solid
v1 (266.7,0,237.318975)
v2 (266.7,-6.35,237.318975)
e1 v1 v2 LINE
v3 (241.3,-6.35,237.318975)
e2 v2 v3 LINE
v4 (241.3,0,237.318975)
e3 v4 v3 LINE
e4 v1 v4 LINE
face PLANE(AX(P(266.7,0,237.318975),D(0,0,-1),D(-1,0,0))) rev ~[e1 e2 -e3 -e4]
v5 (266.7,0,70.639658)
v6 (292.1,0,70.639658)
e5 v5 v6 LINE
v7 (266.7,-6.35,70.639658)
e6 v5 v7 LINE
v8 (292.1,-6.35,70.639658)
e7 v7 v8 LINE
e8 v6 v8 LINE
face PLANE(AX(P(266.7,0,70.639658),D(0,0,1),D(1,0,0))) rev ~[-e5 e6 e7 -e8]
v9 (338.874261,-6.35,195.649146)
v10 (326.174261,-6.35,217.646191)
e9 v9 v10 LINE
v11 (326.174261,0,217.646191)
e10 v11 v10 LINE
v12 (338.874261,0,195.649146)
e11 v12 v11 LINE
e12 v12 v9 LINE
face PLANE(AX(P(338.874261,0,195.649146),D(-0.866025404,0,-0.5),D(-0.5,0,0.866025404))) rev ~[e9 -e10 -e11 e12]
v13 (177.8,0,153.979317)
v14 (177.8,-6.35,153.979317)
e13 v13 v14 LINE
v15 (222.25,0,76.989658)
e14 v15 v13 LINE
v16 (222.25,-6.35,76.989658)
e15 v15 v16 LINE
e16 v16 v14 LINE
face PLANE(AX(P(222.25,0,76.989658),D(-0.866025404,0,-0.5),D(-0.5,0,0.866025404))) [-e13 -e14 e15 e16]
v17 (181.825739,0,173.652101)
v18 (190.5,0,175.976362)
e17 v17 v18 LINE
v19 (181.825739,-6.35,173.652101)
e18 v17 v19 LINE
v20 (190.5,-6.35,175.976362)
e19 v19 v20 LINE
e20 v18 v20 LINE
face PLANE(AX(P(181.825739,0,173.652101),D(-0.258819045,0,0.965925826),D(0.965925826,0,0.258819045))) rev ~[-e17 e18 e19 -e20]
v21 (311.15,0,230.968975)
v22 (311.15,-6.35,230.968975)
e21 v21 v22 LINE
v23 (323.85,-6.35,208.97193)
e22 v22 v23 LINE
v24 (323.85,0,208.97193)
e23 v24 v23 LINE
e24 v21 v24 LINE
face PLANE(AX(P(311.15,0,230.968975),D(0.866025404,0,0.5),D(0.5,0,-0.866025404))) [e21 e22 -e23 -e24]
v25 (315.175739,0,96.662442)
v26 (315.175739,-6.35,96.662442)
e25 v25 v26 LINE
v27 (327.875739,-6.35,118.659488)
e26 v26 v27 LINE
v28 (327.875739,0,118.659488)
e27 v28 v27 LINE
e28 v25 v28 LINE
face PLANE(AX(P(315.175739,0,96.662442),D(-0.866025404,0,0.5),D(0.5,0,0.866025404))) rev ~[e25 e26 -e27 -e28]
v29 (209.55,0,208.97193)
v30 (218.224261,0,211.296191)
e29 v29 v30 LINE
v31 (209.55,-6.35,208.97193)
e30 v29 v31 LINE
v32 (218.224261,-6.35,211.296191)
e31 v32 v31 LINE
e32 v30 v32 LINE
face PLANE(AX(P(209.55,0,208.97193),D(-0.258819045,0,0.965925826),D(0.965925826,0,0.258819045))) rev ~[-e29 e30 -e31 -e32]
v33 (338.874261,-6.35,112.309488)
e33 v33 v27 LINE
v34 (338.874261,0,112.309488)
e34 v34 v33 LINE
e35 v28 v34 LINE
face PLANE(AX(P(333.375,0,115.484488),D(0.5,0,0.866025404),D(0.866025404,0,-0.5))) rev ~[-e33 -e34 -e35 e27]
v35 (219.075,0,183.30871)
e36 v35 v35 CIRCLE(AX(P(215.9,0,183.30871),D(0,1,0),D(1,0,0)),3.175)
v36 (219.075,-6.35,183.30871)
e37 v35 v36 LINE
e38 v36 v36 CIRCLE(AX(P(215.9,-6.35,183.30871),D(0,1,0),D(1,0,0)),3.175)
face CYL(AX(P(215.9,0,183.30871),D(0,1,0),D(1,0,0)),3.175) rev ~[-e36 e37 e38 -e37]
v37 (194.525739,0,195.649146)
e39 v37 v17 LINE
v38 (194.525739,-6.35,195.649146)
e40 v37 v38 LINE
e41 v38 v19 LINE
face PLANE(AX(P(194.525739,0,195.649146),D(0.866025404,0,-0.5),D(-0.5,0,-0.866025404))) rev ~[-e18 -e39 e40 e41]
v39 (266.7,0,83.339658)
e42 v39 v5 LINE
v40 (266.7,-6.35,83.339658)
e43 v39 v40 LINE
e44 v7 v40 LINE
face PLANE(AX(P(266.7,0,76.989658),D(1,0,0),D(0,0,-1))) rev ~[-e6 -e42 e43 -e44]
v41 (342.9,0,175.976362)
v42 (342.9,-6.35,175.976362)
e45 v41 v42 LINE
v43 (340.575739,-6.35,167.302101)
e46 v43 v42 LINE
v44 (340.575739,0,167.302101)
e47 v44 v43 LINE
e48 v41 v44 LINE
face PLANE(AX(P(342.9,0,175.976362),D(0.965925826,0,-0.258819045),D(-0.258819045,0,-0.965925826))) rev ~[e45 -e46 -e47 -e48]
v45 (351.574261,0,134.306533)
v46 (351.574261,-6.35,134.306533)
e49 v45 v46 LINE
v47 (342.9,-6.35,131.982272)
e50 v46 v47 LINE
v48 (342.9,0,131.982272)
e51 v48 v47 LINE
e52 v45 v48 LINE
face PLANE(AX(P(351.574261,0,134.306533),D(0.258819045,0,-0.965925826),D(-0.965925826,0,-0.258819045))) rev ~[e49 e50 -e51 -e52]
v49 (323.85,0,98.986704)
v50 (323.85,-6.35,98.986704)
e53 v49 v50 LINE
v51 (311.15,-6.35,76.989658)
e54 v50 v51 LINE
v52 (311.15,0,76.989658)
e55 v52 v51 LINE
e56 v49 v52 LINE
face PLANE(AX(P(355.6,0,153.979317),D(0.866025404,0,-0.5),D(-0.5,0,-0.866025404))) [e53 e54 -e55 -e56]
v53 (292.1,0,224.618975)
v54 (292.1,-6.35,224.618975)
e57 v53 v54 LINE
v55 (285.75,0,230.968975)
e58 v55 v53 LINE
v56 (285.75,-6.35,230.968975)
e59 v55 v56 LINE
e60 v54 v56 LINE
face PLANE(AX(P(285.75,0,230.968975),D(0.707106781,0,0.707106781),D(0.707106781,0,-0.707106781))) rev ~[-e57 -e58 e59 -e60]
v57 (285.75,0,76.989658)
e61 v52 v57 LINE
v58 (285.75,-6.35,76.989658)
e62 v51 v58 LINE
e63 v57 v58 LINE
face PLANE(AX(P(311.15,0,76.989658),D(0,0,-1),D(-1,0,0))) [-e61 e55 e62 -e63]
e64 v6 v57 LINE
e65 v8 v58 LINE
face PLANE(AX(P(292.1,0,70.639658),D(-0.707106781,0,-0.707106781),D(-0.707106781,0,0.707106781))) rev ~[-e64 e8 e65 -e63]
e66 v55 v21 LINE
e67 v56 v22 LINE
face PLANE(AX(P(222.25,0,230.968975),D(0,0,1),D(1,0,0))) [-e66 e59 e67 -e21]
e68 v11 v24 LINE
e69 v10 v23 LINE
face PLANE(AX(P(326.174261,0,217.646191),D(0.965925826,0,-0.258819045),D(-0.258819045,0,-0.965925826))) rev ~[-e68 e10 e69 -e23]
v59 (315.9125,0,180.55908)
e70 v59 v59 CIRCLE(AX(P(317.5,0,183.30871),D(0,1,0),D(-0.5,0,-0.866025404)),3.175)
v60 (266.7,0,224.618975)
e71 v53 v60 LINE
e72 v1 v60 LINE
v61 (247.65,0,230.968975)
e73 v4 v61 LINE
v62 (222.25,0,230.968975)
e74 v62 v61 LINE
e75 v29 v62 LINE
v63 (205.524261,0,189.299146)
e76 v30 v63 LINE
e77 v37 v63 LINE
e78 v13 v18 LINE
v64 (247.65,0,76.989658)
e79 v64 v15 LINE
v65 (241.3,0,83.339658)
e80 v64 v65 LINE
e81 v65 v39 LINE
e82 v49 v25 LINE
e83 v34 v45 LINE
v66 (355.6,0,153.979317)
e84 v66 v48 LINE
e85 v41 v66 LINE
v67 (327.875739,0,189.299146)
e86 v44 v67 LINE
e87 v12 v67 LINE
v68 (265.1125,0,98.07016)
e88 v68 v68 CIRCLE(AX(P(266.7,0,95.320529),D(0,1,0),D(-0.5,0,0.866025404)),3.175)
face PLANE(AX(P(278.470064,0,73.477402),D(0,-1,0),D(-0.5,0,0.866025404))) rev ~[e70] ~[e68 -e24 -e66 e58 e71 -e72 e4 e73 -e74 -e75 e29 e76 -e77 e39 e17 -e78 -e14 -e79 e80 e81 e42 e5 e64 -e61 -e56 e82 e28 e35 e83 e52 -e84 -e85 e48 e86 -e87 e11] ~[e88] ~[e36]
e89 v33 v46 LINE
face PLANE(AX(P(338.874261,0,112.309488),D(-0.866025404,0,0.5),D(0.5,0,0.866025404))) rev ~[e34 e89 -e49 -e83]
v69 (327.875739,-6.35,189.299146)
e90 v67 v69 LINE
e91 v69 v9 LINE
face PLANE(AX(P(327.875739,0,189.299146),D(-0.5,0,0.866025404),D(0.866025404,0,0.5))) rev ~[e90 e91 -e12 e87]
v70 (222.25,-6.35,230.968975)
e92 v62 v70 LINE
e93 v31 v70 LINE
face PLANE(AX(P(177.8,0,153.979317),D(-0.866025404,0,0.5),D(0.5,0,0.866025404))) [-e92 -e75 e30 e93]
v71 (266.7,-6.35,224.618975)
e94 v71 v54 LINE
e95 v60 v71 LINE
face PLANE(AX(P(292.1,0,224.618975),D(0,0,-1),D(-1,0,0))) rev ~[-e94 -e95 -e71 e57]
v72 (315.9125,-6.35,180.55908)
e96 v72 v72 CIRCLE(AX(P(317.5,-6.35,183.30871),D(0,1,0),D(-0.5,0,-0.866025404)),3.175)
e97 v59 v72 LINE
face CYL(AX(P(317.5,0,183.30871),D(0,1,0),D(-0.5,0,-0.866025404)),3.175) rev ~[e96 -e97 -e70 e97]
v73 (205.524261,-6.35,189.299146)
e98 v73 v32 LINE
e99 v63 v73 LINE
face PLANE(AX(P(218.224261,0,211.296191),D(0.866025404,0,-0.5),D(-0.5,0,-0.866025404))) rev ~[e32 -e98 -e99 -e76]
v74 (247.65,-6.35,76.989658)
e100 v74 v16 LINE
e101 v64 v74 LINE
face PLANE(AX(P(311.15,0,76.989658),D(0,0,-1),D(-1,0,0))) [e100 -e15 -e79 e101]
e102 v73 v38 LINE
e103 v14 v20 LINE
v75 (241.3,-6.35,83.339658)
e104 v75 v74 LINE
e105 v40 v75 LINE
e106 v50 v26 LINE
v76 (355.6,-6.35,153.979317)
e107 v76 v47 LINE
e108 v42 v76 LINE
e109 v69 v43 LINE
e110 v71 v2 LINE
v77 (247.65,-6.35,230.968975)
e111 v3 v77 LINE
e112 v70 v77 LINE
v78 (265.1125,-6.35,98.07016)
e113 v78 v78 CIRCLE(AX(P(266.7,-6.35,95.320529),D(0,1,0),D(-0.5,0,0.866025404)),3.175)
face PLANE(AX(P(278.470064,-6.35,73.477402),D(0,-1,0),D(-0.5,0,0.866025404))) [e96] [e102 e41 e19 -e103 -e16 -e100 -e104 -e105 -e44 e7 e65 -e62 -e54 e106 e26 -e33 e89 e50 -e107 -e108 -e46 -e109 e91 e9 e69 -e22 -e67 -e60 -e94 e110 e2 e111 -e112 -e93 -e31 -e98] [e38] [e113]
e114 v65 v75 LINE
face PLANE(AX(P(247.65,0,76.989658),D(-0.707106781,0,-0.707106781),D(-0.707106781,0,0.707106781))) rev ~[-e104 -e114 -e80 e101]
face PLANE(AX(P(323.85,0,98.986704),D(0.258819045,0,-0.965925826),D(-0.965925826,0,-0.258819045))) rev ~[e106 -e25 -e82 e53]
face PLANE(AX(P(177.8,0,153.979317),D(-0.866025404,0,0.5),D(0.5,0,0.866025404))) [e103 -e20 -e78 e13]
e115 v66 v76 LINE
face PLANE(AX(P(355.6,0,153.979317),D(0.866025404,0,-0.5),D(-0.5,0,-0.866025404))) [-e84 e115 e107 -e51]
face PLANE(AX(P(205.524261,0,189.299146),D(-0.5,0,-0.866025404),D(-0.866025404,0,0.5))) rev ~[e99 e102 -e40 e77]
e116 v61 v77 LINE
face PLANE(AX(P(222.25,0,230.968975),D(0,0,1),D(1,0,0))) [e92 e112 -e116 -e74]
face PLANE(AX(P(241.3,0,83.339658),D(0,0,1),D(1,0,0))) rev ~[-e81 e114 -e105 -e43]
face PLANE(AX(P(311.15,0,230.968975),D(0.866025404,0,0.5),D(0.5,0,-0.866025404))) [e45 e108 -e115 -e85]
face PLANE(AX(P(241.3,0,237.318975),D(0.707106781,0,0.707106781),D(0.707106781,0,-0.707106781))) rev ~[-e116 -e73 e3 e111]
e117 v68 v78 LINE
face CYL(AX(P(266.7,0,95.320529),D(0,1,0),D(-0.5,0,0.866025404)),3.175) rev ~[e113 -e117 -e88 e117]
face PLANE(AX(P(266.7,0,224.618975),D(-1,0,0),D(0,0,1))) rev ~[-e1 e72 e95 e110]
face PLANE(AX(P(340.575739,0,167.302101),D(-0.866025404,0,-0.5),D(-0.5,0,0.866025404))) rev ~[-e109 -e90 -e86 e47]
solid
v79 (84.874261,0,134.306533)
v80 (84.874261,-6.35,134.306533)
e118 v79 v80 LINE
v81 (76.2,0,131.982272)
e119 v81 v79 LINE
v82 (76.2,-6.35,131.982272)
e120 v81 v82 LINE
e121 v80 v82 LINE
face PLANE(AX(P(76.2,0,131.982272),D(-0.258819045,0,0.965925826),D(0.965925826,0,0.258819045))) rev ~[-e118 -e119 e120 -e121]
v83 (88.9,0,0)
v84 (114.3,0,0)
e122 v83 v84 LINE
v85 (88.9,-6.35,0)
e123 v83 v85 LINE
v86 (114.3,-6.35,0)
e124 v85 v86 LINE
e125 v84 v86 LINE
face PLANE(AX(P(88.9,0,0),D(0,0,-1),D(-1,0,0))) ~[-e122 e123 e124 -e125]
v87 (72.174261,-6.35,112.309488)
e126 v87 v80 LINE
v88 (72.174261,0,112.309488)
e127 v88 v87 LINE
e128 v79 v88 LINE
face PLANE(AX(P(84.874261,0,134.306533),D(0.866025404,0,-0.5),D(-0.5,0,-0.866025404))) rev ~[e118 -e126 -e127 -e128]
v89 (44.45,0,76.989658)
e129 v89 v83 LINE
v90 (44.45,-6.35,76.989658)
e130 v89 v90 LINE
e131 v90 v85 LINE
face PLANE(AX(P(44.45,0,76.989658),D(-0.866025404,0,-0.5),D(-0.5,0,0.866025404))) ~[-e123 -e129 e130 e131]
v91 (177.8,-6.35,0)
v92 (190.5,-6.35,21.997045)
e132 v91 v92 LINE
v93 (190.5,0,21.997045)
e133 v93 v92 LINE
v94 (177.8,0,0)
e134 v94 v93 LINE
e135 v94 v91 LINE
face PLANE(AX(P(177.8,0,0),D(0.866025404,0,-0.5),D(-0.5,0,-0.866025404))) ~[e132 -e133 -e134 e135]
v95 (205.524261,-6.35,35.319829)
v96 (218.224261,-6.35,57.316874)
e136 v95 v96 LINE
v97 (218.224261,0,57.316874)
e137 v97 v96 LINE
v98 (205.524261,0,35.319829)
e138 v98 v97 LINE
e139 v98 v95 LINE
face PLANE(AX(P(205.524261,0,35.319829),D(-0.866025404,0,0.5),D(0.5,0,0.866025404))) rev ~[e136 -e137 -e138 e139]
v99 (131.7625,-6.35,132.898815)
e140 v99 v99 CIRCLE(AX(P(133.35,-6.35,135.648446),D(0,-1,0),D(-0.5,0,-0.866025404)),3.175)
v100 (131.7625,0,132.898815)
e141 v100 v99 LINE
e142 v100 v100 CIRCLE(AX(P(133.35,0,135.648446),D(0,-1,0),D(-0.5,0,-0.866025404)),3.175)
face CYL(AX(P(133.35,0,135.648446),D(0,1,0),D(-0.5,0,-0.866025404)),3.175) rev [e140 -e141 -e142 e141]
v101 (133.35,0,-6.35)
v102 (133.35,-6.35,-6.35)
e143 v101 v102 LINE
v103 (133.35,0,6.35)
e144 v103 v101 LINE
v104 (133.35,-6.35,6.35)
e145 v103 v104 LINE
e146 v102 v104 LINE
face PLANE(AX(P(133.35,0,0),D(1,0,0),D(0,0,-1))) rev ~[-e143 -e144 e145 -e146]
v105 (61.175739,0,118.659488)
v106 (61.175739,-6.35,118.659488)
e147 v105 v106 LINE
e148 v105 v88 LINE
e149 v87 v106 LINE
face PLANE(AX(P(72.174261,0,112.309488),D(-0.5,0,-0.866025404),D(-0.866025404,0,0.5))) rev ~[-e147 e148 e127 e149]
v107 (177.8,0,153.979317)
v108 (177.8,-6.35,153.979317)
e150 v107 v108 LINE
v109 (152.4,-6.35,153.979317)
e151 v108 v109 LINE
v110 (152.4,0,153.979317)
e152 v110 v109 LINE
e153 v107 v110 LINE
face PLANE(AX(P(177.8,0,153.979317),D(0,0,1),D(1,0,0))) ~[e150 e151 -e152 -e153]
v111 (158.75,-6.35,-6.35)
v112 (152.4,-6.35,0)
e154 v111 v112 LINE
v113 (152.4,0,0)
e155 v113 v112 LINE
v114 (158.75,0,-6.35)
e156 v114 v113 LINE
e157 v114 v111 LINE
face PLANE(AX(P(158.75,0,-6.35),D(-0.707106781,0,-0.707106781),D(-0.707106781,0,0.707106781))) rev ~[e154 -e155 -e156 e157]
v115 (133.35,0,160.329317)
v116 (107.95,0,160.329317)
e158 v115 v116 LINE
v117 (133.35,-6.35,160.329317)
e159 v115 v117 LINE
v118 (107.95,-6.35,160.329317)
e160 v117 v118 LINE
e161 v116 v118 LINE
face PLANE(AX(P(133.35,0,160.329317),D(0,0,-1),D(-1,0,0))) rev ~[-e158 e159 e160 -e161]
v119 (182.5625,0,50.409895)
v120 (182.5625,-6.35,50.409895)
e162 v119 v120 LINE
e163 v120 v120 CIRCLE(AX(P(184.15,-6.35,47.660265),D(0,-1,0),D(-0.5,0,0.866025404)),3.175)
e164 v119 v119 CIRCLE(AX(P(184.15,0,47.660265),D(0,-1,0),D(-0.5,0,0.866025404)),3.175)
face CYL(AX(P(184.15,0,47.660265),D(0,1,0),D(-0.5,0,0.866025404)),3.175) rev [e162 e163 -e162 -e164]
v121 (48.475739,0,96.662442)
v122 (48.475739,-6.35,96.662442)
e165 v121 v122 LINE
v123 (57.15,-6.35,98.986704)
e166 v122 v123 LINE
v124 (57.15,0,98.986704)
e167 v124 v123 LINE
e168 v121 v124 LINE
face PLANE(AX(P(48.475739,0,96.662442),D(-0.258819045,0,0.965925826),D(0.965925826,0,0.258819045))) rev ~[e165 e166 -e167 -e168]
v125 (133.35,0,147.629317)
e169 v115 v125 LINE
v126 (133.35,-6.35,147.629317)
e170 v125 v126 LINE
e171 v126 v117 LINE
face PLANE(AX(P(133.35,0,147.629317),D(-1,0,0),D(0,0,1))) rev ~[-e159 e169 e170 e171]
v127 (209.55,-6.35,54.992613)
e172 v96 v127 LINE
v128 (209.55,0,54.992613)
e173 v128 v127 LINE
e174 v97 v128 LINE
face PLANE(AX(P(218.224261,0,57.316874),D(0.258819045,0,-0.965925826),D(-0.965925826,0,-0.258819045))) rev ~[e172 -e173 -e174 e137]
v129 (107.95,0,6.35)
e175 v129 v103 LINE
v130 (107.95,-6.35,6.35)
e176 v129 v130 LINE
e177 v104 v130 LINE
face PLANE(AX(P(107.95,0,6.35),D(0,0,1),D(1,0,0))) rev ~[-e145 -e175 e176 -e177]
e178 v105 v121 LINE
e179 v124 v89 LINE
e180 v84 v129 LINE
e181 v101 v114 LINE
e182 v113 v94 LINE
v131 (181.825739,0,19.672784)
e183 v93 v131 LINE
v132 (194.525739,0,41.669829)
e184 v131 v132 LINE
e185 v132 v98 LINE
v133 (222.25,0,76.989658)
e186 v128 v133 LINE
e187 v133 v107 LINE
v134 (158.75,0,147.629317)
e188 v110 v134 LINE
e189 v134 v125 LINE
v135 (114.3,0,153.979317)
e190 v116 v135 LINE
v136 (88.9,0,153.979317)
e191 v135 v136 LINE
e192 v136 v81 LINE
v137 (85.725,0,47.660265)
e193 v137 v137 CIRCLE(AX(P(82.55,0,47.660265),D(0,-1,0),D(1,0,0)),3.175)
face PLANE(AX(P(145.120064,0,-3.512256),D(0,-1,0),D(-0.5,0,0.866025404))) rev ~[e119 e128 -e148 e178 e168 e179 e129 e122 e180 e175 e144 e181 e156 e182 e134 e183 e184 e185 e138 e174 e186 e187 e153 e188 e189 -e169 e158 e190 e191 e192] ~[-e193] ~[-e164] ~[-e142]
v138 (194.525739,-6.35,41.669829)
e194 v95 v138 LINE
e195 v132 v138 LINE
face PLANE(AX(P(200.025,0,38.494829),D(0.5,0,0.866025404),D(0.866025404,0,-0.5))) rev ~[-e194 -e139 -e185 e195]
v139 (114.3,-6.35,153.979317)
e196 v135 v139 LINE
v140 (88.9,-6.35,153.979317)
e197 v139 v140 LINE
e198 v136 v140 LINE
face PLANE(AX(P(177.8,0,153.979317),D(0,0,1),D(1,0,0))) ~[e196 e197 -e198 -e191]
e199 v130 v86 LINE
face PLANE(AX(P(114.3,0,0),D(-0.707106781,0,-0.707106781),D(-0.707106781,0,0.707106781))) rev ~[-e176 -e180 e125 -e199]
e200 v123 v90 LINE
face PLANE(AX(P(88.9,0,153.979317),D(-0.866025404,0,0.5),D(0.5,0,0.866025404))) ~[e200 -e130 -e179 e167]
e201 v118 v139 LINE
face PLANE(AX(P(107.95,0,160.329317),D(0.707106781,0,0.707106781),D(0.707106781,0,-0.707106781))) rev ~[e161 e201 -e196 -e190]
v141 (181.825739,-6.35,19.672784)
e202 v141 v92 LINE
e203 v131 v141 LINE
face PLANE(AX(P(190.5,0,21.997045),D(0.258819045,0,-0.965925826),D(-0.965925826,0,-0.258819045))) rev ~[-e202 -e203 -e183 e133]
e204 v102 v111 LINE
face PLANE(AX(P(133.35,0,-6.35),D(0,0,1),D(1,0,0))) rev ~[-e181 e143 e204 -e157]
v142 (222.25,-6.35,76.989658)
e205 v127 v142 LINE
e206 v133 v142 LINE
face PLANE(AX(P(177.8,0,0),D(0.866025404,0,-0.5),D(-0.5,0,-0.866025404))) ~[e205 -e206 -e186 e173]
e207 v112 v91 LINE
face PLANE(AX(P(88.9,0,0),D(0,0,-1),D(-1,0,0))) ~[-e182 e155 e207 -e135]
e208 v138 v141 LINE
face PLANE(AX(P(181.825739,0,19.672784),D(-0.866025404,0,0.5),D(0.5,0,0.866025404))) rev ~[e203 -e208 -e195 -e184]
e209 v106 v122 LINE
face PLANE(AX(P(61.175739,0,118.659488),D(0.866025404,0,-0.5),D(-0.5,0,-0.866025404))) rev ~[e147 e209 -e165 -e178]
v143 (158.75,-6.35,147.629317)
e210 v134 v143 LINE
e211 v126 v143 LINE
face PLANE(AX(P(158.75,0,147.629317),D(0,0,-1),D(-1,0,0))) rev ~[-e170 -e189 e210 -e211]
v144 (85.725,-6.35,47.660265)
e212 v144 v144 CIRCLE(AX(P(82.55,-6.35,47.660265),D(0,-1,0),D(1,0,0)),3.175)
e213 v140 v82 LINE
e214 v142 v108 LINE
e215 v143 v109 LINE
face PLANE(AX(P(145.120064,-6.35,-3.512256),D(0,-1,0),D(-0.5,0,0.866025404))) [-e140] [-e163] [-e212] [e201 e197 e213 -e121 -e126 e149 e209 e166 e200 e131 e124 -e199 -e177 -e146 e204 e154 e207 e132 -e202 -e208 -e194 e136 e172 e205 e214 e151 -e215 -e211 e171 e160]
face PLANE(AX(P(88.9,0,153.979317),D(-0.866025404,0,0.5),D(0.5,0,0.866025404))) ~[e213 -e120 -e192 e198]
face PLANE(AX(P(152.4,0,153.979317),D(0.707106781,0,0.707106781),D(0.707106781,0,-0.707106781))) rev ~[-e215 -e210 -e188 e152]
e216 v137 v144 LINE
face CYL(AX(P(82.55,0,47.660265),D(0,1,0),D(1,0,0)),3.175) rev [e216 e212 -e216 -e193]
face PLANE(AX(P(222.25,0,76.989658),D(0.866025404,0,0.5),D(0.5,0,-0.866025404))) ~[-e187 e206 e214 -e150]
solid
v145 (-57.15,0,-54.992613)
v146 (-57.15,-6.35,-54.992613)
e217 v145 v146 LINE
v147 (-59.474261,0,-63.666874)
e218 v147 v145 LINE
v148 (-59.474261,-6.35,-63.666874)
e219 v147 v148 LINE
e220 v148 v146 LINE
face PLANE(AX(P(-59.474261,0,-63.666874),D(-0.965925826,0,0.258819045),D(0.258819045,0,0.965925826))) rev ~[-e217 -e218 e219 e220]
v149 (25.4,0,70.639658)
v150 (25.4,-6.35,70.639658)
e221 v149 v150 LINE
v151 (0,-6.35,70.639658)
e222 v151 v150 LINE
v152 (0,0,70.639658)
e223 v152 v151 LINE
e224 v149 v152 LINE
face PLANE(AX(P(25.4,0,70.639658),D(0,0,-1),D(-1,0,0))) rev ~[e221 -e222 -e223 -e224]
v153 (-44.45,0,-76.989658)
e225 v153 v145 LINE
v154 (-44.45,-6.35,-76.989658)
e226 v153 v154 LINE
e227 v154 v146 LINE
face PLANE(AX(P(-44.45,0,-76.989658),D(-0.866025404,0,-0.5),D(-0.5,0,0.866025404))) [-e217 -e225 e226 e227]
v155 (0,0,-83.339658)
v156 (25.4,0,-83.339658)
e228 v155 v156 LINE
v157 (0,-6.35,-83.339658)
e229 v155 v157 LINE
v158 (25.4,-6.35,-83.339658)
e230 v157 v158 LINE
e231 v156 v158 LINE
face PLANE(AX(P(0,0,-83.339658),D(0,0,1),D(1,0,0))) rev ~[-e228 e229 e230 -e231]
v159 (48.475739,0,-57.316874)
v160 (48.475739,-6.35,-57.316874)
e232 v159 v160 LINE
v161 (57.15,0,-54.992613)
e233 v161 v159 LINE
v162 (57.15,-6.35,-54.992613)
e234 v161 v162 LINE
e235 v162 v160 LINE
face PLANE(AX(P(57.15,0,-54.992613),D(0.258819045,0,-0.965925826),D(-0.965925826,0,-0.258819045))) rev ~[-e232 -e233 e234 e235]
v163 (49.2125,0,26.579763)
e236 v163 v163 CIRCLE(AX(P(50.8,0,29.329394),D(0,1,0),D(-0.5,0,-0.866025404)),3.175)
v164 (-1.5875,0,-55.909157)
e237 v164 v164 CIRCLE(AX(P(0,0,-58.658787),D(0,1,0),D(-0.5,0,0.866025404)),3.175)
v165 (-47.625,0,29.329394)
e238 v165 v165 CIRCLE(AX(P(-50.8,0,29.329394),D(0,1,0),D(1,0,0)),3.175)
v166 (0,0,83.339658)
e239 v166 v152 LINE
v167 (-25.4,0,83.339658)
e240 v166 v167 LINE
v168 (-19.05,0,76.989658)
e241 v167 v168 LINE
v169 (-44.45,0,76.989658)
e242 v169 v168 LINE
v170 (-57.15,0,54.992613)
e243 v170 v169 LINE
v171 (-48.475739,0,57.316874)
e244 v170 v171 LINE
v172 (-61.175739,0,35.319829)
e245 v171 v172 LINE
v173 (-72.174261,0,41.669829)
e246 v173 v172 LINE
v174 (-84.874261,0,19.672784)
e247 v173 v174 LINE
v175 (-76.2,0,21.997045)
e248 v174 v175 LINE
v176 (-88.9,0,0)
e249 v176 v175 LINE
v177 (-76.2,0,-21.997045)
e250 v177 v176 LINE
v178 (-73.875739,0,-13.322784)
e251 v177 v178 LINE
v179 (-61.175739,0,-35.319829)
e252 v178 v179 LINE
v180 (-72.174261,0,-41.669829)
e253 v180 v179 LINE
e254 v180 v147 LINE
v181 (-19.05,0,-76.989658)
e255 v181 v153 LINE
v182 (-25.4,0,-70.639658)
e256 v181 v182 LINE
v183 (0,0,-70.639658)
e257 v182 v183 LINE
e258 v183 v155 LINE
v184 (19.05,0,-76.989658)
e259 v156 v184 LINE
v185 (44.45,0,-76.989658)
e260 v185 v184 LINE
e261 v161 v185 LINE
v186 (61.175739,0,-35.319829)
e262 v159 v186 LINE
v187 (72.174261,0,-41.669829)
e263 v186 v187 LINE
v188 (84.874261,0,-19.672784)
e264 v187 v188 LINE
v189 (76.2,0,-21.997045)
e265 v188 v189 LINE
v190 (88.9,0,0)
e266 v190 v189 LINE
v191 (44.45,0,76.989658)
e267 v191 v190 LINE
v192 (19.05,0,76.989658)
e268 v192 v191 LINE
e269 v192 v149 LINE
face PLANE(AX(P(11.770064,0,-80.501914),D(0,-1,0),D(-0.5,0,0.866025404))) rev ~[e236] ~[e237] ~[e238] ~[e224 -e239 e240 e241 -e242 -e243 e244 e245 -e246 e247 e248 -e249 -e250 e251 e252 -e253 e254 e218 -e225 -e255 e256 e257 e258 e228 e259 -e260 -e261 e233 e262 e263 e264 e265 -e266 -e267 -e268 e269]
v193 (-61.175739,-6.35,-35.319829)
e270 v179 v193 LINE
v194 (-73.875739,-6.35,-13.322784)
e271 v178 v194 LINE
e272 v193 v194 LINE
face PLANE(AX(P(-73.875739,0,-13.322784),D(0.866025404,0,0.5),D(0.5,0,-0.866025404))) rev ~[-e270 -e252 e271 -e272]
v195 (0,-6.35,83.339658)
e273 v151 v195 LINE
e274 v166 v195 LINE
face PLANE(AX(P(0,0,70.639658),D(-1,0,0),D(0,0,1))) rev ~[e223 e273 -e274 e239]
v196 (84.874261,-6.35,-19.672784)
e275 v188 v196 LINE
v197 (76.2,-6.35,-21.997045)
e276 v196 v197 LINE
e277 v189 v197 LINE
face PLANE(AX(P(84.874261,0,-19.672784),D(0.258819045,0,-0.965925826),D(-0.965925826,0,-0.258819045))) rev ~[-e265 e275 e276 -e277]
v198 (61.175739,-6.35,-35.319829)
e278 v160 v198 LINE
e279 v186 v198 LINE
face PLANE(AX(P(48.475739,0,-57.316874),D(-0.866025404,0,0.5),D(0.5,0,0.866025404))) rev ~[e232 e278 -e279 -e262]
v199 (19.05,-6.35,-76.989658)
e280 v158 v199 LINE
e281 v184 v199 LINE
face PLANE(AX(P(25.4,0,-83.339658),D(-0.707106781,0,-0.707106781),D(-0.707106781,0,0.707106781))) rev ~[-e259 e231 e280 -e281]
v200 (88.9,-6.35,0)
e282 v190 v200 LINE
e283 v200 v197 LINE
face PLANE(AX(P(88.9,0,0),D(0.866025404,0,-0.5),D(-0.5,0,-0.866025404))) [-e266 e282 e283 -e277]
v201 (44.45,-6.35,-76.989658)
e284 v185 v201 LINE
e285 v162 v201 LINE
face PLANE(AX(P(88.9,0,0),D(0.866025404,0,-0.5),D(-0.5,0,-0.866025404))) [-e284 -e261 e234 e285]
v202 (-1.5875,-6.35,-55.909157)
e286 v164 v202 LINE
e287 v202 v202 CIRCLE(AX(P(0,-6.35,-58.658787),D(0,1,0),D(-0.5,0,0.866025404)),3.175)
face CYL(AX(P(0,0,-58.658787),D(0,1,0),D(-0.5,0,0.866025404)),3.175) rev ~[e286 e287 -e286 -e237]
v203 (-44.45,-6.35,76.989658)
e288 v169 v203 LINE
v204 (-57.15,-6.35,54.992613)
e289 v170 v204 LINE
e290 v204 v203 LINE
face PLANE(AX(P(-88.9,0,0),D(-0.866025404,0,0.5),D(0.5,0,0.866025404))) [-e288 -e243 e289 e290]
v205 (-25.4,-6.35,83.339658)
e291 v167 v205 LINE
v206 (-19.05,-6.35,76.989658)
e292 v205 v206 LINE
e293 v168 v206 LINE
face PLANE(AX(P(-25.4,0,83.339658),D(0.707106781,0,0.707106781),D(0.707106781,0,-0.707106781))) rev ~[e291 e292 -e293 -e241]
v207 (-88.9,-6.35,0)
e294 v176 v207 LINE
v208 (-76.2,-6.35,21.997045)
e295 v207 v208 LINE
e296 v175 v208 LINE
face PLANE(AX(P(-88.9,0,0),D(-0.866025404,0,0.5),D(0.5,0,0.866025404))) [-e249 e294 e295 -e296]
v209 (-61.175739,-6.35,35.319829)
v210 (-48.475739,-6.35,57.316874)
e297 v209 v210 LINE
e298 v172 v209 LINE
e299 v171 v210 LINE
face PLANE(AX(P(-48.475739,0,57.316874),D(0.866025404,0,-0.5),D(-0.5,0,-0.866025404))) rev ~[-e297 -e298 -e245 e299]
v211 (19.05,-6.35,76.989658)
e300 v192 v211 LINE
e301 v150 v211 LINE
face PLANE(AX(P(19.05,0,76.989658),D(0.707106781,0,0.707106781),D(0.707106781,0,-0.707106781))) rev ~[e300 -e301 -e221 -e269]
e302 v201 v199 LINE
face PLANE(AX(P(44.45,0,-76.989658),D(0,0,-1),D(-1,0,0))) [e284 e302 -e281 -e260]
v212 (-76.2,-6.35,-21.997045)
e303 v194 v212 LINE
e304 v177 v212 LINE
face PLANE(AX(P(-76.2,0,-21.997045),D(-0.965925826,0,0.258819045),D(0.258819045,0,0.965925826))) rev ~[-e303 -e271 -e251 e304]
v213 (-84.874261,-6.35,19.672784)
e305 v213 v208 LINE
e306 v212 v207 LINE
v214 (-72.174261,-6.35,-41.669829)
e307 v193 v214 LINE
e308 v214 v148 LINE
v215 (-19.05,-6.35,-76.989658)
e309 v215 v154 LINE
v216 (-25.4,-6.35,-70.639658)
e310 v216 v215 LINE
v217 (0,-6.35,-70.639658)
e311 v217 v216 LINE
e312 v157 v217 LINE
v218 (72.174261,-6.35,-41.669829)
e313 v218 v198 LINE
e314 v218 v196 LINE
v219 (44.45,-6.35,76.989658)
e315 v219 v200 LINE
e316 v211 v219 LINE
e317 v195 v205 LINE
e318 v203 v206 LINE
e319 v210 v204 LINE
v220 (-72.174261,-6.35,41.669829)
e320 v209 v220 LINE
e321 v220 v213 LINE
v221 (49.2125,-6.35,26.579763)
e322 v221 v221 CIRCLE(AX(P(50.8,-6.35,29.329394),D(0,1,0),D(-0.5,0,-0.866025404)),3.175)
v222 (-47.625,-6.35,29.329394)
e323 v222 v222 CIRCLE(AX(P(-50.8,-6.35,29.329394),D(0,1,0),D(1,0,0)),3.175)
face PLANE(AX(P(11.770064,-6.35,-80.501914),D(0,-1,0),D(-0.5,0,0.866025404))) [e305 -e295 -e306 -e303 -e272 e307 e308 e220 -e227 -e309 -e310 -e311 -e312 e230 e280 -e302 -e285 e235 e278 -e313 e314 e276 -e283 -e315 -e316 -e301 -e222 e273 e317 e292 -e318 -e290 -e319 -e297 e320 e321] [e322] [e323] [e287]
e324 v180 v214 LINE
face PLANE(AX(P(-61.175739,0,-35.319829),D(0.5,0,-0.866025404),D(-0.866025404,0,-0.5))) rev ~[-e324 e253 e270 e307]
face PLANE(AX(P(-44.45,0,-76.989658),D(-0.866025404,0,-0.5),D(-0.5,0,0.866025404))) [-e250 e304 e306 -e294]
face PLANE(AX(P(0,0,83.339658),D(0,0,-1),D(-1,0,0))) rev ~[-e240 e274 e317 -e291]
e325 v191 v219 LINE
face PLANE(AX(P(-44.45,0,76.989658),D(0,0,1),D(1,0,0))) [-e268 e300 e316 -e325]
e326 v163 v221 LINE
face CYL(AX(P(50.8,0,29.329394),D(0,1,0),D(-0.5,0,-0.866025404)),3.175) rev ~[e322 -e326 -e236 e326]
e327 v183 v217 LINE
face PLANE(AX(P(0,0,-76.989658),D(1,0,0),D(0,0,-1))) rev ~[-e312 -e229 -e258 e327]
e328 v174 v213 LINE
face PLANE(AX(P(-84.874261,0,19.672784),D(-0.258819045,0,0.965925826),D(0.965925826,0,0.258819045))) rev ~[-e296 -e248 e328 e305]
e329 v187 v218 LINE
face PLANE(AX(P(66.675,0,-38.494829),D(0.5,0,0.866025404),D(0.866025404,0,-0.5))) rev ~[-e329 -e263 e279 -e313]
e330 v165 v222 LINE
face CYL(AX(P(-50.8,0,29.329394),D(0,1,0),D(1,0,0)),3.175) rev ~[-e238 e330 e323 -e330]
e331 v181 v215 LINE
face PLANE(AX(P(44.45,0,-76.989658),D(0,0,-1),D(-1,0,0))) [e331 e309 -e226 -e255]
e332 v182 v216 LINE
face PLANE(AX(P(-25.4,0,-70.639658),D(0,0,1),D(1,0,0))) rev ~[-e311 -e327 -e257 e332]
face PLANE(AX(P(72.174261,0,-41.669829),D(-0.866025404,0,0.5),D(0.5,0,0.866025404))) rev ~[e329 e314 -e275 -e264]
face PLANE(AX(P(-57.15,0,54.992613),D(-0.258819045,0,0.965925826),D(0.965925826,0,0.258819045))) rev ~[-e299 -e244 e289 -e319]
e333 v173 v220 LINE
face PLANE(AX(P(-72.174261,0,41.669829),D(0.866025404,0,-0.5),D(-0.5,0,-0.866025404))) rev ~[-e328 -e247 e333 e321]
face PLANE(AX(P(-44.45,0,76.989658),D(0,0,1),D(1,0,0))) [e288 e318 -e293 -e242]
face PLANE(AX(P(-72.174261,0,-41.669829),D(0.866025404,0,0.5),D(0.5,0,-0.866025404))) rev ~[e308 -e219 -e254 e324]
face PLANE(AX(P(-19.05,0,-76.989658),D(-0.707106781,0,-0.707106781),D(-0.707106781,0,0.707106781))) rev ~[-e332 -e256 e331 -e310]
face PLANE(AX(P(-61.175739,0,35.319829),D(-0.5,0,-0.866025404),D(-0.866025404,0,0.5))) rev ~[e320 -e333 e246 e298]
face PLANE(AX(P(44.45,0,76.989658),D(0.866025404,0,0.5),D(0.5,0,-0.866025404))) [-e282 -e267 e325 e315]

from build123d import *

# Parameters (mm, degrees)
BOSS_EXTRUDE1_DEPTH = 6.35
SKETCH9_R           = 3.175
CUT_EXTRUDE3_DEPTH  = 7.35
CIRPATTERN6_COUNT   = 3
CUT_EXTRUDE4_DEPTH  = 7.35
BOSS_EXTRUDE4_DEPTH = 6.35
CIRPATTERN7_COUNT   = 6
CUT_EXTRUDE5_DEPTH  = 7.35
BOSS_EXTRUDE5_DEPTH = 6.35
CIRPATTERN8_COUNT   = 6
CUT_EXTRUDE6_DEPTH  = 7.35
BOSS_EXTRUDE6_DEPTH = 6.35
CIRPATTERN9_COUNT   = 6


with BuildPart() as part:
    # Sketch1 → Boss-Extrude1 (new body)
    with BuildSketch(Plane(origin=(0, 0, 0), x_dir=(1, 0, 0), z_dir=(0, 1, 0))):
        Polygon((88.9, 0), (44.45, 76.989658396), (-44.45, 76.989658396), (-88.9, 0), (-44.45, -76.989658396), (44.45, -76.989658396), align=None)
    extrude(amount=-BOSS_EXTRUDE1_DEPTH)

    # Sketch9 → Cut-Extrude3 (cut, through all)
    with BuildSketch(Plane(origin=(0, 0, 0), x_dir=(1, 0, 0), z_dir=(0, 1, 0))):
        with Locations((-50.8, -29.329393675)):
            Circle(SKETCH9_R)
    cut_extrude3 = extrude(amount=-CUT_EXTRUDE3_DEPTH, mode=Mode.SUBTRACT)

    # CirPattern6: Cut-Extrude3 ×3 about axis
    cirpattern6_axis = Axis((0, 0, 0), (0, 1, 0))
    for i in range(1, CIRPATTERN6_COUNT):
        add(cut_extrude3.rotate(cirpattern6_axis, i * 360 / CIRPATTERN6_COUNT), mode=Mode.SUBTRACT)


with BuildPart() as body_2:
    # Mirror3: mirrored copy
    add(part.part.mirror(Plane(origin=(44.45, -6.35, 76.989658396), x_dir=(-0.5, 0, 0.866025404), z_dir=(0.866025404, 0, 0.5))))


with BuildPart() as part_1:
    add(part.part)

    # Sketch10 → Cut-Extrude4 (cut, through all)
    with BuildSketch(Plane(origin=(0, 0, 0), x_dir=(1, 0, 0), z_dir=(0, 1, 0))):
        Polygon((57.15, 54.99261314), (48.475738686, 57.316874454), (61.175738686, 35.319829198), (66.675, 38.494829198), align=None)
    cut_extrude4 = extrude(amount=-CUT_EXTRUDE4_DEPTH, mode=Mode.SUBTRACT)

    # Sketch11 → Boss-Extrude4 (add)
    with BuildSketch(Plane(origin=(0, 0, 0), x_dir=(1, 0, 0), z_dir=(0, 1, 0))):
        Polygon((66.675, 38.494829198), (72.174261314, 41.669829198), (84.874261314, 19.672783942), (76.2, 21.997045256), align=None)
    boss_extrude4 = extrude(amount=-BOSS_EXTRUDE4_DEPTH)

    # CirPattern7: Cut-Extrude4, Boss-Extrude4 ×6 about axis, 1 skipped
    cirpattern7_axis = Axis((0, 0, 0), (0, 1, 0))
    add([cut_extrude4.rotate(cirpattern7_axis, i * 360 / CIRPATTERN7_COUNT) for i in range(1, CIRPATTERN7_COUNT) if i not in (5,)], mode=Mode.SUBTRACT)
    add([boss_extrude4.rotate(cirpattern7_axis, i * 360 / CIRPATTERN7_COUNT) for i in range(1, CIRPATTERN7_COUNT) if i not in (5,)])


with BuildPart() as body_3:
    # Mirror4: mirrored copy
    add(body_2.part.mirror(Plane(origin=(222.25, -6.35, 76.989658396), x_dir=(-0.5, 0, 0.866025404), z_dir=(0.866025404, 0, 0.5))))

    # Sketch16 → Cut-Extrude6 (cut, through all)
    with BuildSketch(Plane(origin=(0, 0, 0), x_dir=(1, 0, 0), z_dir=(0, 1, 0))):
        Polygon((323.85, -98.986703653), (315.175738686, -96.662442339), (327.875738686, -118.659487595), (333.375, -115.484487595), align=None)
    cut_extrude6 = extrude(amount=-CUT_EXTRUDE6_DEPTH, mode=Mode.SUBTRACT)

    # Sketch17 → Boss-Extrude6 (add)
    with BuildSketch(Plane(origin=(0, 0, 0), x_dir=(1, 0, 0), z_dir=(0, 1, 0))):
        Polygon((333.375, -115.484487595), (338.874261314, -112.309487595), (351.574261314, -134.306532851), (342.9, -131.982271537), align=None)
    boss_extrude6 = extrude(amount=-BOSS_EXTRUDE6_DEPTH)

    # CirPattern9: Cut-Extrude6, Boss-Extrude6 ×6 about axis, 1 skipped
    cirpattern9_axis = Axis((266.7, 0, 153.979316793), (0, 1, 0))
    add([cut_extrude6.rotate(cirpattern9_axis, i * 360 / CIRPATTERN9_COUNT) for i in range(1, CIRPATTERN9_COUNT) if i not in (2,)], mode=Mode.SUBTRACT)
    add([boss_extrude6.rotate(cirpattern9_axis, i * 360 / CIRPATTERN9_COUNT) for i in range(1, CIRPATTERN9_COUNT) if i not in (2,)])


with BuildPart() as body_2_1:
    add(body_2.part)

    # Sketch13 → Cut-Extrude5 (cut, through all)
    with BuildSketch(Plane(origin=(0, 0, 0), x_dir=(1, 0, 0), z_dir=(0, 1, 0))):
        Polygon((190.5, -21.997045256), (181.825738686, -19.672783942), (194.525738686, -41.669829198), (200.025, -38.494829198), align=None)
    cut_extrude5 = extrude(amount=-CUT_EXTRUDE5_DEPTH, mode=Mode.SUBTRACT)

    # Sketch14 → Boss-Extrude5 (add)
    with BuildSketch(Plane(origin=(0, 0, 0), x_dir=(1, 0, 0), z_dir=(0, 1, 0))):
        Polygon((200.025, -38.494829198), (205.524261314, -35.319829198), (218.224261314, -57.316874454), (209.55, -54.99261314), align=None)
    boss_extrude5 = extrude(amount=-BOSS_EXTRUDE5_DEPTH)

    # CirPattern8: Cut-Extrude5, Boss-Extrude5 ×6 about axis, 2 skipped
    cirpattern8_axis = Axis((133.35, 0, 76.989658396), (0, 1, 0))
    add([cut_extrude5.rotate(cirpattern8_axis, i * 360 / CIRPATTERN8_COUNT) for i in range(1, CIRPATTERN8_COUNT) if i not in (2, 5)], mode=Mode.SUBTRACT)
    add([boss_extrude5.rotate(cirpattern8_axis, i * 360 / CIRPATTERN8_COUNT) for i in range(1, CIRPATTERN8_COUNT) if i not in (2, 5)])


solid = Compound([part_1.part, body_3.part, body_2_1.part])
